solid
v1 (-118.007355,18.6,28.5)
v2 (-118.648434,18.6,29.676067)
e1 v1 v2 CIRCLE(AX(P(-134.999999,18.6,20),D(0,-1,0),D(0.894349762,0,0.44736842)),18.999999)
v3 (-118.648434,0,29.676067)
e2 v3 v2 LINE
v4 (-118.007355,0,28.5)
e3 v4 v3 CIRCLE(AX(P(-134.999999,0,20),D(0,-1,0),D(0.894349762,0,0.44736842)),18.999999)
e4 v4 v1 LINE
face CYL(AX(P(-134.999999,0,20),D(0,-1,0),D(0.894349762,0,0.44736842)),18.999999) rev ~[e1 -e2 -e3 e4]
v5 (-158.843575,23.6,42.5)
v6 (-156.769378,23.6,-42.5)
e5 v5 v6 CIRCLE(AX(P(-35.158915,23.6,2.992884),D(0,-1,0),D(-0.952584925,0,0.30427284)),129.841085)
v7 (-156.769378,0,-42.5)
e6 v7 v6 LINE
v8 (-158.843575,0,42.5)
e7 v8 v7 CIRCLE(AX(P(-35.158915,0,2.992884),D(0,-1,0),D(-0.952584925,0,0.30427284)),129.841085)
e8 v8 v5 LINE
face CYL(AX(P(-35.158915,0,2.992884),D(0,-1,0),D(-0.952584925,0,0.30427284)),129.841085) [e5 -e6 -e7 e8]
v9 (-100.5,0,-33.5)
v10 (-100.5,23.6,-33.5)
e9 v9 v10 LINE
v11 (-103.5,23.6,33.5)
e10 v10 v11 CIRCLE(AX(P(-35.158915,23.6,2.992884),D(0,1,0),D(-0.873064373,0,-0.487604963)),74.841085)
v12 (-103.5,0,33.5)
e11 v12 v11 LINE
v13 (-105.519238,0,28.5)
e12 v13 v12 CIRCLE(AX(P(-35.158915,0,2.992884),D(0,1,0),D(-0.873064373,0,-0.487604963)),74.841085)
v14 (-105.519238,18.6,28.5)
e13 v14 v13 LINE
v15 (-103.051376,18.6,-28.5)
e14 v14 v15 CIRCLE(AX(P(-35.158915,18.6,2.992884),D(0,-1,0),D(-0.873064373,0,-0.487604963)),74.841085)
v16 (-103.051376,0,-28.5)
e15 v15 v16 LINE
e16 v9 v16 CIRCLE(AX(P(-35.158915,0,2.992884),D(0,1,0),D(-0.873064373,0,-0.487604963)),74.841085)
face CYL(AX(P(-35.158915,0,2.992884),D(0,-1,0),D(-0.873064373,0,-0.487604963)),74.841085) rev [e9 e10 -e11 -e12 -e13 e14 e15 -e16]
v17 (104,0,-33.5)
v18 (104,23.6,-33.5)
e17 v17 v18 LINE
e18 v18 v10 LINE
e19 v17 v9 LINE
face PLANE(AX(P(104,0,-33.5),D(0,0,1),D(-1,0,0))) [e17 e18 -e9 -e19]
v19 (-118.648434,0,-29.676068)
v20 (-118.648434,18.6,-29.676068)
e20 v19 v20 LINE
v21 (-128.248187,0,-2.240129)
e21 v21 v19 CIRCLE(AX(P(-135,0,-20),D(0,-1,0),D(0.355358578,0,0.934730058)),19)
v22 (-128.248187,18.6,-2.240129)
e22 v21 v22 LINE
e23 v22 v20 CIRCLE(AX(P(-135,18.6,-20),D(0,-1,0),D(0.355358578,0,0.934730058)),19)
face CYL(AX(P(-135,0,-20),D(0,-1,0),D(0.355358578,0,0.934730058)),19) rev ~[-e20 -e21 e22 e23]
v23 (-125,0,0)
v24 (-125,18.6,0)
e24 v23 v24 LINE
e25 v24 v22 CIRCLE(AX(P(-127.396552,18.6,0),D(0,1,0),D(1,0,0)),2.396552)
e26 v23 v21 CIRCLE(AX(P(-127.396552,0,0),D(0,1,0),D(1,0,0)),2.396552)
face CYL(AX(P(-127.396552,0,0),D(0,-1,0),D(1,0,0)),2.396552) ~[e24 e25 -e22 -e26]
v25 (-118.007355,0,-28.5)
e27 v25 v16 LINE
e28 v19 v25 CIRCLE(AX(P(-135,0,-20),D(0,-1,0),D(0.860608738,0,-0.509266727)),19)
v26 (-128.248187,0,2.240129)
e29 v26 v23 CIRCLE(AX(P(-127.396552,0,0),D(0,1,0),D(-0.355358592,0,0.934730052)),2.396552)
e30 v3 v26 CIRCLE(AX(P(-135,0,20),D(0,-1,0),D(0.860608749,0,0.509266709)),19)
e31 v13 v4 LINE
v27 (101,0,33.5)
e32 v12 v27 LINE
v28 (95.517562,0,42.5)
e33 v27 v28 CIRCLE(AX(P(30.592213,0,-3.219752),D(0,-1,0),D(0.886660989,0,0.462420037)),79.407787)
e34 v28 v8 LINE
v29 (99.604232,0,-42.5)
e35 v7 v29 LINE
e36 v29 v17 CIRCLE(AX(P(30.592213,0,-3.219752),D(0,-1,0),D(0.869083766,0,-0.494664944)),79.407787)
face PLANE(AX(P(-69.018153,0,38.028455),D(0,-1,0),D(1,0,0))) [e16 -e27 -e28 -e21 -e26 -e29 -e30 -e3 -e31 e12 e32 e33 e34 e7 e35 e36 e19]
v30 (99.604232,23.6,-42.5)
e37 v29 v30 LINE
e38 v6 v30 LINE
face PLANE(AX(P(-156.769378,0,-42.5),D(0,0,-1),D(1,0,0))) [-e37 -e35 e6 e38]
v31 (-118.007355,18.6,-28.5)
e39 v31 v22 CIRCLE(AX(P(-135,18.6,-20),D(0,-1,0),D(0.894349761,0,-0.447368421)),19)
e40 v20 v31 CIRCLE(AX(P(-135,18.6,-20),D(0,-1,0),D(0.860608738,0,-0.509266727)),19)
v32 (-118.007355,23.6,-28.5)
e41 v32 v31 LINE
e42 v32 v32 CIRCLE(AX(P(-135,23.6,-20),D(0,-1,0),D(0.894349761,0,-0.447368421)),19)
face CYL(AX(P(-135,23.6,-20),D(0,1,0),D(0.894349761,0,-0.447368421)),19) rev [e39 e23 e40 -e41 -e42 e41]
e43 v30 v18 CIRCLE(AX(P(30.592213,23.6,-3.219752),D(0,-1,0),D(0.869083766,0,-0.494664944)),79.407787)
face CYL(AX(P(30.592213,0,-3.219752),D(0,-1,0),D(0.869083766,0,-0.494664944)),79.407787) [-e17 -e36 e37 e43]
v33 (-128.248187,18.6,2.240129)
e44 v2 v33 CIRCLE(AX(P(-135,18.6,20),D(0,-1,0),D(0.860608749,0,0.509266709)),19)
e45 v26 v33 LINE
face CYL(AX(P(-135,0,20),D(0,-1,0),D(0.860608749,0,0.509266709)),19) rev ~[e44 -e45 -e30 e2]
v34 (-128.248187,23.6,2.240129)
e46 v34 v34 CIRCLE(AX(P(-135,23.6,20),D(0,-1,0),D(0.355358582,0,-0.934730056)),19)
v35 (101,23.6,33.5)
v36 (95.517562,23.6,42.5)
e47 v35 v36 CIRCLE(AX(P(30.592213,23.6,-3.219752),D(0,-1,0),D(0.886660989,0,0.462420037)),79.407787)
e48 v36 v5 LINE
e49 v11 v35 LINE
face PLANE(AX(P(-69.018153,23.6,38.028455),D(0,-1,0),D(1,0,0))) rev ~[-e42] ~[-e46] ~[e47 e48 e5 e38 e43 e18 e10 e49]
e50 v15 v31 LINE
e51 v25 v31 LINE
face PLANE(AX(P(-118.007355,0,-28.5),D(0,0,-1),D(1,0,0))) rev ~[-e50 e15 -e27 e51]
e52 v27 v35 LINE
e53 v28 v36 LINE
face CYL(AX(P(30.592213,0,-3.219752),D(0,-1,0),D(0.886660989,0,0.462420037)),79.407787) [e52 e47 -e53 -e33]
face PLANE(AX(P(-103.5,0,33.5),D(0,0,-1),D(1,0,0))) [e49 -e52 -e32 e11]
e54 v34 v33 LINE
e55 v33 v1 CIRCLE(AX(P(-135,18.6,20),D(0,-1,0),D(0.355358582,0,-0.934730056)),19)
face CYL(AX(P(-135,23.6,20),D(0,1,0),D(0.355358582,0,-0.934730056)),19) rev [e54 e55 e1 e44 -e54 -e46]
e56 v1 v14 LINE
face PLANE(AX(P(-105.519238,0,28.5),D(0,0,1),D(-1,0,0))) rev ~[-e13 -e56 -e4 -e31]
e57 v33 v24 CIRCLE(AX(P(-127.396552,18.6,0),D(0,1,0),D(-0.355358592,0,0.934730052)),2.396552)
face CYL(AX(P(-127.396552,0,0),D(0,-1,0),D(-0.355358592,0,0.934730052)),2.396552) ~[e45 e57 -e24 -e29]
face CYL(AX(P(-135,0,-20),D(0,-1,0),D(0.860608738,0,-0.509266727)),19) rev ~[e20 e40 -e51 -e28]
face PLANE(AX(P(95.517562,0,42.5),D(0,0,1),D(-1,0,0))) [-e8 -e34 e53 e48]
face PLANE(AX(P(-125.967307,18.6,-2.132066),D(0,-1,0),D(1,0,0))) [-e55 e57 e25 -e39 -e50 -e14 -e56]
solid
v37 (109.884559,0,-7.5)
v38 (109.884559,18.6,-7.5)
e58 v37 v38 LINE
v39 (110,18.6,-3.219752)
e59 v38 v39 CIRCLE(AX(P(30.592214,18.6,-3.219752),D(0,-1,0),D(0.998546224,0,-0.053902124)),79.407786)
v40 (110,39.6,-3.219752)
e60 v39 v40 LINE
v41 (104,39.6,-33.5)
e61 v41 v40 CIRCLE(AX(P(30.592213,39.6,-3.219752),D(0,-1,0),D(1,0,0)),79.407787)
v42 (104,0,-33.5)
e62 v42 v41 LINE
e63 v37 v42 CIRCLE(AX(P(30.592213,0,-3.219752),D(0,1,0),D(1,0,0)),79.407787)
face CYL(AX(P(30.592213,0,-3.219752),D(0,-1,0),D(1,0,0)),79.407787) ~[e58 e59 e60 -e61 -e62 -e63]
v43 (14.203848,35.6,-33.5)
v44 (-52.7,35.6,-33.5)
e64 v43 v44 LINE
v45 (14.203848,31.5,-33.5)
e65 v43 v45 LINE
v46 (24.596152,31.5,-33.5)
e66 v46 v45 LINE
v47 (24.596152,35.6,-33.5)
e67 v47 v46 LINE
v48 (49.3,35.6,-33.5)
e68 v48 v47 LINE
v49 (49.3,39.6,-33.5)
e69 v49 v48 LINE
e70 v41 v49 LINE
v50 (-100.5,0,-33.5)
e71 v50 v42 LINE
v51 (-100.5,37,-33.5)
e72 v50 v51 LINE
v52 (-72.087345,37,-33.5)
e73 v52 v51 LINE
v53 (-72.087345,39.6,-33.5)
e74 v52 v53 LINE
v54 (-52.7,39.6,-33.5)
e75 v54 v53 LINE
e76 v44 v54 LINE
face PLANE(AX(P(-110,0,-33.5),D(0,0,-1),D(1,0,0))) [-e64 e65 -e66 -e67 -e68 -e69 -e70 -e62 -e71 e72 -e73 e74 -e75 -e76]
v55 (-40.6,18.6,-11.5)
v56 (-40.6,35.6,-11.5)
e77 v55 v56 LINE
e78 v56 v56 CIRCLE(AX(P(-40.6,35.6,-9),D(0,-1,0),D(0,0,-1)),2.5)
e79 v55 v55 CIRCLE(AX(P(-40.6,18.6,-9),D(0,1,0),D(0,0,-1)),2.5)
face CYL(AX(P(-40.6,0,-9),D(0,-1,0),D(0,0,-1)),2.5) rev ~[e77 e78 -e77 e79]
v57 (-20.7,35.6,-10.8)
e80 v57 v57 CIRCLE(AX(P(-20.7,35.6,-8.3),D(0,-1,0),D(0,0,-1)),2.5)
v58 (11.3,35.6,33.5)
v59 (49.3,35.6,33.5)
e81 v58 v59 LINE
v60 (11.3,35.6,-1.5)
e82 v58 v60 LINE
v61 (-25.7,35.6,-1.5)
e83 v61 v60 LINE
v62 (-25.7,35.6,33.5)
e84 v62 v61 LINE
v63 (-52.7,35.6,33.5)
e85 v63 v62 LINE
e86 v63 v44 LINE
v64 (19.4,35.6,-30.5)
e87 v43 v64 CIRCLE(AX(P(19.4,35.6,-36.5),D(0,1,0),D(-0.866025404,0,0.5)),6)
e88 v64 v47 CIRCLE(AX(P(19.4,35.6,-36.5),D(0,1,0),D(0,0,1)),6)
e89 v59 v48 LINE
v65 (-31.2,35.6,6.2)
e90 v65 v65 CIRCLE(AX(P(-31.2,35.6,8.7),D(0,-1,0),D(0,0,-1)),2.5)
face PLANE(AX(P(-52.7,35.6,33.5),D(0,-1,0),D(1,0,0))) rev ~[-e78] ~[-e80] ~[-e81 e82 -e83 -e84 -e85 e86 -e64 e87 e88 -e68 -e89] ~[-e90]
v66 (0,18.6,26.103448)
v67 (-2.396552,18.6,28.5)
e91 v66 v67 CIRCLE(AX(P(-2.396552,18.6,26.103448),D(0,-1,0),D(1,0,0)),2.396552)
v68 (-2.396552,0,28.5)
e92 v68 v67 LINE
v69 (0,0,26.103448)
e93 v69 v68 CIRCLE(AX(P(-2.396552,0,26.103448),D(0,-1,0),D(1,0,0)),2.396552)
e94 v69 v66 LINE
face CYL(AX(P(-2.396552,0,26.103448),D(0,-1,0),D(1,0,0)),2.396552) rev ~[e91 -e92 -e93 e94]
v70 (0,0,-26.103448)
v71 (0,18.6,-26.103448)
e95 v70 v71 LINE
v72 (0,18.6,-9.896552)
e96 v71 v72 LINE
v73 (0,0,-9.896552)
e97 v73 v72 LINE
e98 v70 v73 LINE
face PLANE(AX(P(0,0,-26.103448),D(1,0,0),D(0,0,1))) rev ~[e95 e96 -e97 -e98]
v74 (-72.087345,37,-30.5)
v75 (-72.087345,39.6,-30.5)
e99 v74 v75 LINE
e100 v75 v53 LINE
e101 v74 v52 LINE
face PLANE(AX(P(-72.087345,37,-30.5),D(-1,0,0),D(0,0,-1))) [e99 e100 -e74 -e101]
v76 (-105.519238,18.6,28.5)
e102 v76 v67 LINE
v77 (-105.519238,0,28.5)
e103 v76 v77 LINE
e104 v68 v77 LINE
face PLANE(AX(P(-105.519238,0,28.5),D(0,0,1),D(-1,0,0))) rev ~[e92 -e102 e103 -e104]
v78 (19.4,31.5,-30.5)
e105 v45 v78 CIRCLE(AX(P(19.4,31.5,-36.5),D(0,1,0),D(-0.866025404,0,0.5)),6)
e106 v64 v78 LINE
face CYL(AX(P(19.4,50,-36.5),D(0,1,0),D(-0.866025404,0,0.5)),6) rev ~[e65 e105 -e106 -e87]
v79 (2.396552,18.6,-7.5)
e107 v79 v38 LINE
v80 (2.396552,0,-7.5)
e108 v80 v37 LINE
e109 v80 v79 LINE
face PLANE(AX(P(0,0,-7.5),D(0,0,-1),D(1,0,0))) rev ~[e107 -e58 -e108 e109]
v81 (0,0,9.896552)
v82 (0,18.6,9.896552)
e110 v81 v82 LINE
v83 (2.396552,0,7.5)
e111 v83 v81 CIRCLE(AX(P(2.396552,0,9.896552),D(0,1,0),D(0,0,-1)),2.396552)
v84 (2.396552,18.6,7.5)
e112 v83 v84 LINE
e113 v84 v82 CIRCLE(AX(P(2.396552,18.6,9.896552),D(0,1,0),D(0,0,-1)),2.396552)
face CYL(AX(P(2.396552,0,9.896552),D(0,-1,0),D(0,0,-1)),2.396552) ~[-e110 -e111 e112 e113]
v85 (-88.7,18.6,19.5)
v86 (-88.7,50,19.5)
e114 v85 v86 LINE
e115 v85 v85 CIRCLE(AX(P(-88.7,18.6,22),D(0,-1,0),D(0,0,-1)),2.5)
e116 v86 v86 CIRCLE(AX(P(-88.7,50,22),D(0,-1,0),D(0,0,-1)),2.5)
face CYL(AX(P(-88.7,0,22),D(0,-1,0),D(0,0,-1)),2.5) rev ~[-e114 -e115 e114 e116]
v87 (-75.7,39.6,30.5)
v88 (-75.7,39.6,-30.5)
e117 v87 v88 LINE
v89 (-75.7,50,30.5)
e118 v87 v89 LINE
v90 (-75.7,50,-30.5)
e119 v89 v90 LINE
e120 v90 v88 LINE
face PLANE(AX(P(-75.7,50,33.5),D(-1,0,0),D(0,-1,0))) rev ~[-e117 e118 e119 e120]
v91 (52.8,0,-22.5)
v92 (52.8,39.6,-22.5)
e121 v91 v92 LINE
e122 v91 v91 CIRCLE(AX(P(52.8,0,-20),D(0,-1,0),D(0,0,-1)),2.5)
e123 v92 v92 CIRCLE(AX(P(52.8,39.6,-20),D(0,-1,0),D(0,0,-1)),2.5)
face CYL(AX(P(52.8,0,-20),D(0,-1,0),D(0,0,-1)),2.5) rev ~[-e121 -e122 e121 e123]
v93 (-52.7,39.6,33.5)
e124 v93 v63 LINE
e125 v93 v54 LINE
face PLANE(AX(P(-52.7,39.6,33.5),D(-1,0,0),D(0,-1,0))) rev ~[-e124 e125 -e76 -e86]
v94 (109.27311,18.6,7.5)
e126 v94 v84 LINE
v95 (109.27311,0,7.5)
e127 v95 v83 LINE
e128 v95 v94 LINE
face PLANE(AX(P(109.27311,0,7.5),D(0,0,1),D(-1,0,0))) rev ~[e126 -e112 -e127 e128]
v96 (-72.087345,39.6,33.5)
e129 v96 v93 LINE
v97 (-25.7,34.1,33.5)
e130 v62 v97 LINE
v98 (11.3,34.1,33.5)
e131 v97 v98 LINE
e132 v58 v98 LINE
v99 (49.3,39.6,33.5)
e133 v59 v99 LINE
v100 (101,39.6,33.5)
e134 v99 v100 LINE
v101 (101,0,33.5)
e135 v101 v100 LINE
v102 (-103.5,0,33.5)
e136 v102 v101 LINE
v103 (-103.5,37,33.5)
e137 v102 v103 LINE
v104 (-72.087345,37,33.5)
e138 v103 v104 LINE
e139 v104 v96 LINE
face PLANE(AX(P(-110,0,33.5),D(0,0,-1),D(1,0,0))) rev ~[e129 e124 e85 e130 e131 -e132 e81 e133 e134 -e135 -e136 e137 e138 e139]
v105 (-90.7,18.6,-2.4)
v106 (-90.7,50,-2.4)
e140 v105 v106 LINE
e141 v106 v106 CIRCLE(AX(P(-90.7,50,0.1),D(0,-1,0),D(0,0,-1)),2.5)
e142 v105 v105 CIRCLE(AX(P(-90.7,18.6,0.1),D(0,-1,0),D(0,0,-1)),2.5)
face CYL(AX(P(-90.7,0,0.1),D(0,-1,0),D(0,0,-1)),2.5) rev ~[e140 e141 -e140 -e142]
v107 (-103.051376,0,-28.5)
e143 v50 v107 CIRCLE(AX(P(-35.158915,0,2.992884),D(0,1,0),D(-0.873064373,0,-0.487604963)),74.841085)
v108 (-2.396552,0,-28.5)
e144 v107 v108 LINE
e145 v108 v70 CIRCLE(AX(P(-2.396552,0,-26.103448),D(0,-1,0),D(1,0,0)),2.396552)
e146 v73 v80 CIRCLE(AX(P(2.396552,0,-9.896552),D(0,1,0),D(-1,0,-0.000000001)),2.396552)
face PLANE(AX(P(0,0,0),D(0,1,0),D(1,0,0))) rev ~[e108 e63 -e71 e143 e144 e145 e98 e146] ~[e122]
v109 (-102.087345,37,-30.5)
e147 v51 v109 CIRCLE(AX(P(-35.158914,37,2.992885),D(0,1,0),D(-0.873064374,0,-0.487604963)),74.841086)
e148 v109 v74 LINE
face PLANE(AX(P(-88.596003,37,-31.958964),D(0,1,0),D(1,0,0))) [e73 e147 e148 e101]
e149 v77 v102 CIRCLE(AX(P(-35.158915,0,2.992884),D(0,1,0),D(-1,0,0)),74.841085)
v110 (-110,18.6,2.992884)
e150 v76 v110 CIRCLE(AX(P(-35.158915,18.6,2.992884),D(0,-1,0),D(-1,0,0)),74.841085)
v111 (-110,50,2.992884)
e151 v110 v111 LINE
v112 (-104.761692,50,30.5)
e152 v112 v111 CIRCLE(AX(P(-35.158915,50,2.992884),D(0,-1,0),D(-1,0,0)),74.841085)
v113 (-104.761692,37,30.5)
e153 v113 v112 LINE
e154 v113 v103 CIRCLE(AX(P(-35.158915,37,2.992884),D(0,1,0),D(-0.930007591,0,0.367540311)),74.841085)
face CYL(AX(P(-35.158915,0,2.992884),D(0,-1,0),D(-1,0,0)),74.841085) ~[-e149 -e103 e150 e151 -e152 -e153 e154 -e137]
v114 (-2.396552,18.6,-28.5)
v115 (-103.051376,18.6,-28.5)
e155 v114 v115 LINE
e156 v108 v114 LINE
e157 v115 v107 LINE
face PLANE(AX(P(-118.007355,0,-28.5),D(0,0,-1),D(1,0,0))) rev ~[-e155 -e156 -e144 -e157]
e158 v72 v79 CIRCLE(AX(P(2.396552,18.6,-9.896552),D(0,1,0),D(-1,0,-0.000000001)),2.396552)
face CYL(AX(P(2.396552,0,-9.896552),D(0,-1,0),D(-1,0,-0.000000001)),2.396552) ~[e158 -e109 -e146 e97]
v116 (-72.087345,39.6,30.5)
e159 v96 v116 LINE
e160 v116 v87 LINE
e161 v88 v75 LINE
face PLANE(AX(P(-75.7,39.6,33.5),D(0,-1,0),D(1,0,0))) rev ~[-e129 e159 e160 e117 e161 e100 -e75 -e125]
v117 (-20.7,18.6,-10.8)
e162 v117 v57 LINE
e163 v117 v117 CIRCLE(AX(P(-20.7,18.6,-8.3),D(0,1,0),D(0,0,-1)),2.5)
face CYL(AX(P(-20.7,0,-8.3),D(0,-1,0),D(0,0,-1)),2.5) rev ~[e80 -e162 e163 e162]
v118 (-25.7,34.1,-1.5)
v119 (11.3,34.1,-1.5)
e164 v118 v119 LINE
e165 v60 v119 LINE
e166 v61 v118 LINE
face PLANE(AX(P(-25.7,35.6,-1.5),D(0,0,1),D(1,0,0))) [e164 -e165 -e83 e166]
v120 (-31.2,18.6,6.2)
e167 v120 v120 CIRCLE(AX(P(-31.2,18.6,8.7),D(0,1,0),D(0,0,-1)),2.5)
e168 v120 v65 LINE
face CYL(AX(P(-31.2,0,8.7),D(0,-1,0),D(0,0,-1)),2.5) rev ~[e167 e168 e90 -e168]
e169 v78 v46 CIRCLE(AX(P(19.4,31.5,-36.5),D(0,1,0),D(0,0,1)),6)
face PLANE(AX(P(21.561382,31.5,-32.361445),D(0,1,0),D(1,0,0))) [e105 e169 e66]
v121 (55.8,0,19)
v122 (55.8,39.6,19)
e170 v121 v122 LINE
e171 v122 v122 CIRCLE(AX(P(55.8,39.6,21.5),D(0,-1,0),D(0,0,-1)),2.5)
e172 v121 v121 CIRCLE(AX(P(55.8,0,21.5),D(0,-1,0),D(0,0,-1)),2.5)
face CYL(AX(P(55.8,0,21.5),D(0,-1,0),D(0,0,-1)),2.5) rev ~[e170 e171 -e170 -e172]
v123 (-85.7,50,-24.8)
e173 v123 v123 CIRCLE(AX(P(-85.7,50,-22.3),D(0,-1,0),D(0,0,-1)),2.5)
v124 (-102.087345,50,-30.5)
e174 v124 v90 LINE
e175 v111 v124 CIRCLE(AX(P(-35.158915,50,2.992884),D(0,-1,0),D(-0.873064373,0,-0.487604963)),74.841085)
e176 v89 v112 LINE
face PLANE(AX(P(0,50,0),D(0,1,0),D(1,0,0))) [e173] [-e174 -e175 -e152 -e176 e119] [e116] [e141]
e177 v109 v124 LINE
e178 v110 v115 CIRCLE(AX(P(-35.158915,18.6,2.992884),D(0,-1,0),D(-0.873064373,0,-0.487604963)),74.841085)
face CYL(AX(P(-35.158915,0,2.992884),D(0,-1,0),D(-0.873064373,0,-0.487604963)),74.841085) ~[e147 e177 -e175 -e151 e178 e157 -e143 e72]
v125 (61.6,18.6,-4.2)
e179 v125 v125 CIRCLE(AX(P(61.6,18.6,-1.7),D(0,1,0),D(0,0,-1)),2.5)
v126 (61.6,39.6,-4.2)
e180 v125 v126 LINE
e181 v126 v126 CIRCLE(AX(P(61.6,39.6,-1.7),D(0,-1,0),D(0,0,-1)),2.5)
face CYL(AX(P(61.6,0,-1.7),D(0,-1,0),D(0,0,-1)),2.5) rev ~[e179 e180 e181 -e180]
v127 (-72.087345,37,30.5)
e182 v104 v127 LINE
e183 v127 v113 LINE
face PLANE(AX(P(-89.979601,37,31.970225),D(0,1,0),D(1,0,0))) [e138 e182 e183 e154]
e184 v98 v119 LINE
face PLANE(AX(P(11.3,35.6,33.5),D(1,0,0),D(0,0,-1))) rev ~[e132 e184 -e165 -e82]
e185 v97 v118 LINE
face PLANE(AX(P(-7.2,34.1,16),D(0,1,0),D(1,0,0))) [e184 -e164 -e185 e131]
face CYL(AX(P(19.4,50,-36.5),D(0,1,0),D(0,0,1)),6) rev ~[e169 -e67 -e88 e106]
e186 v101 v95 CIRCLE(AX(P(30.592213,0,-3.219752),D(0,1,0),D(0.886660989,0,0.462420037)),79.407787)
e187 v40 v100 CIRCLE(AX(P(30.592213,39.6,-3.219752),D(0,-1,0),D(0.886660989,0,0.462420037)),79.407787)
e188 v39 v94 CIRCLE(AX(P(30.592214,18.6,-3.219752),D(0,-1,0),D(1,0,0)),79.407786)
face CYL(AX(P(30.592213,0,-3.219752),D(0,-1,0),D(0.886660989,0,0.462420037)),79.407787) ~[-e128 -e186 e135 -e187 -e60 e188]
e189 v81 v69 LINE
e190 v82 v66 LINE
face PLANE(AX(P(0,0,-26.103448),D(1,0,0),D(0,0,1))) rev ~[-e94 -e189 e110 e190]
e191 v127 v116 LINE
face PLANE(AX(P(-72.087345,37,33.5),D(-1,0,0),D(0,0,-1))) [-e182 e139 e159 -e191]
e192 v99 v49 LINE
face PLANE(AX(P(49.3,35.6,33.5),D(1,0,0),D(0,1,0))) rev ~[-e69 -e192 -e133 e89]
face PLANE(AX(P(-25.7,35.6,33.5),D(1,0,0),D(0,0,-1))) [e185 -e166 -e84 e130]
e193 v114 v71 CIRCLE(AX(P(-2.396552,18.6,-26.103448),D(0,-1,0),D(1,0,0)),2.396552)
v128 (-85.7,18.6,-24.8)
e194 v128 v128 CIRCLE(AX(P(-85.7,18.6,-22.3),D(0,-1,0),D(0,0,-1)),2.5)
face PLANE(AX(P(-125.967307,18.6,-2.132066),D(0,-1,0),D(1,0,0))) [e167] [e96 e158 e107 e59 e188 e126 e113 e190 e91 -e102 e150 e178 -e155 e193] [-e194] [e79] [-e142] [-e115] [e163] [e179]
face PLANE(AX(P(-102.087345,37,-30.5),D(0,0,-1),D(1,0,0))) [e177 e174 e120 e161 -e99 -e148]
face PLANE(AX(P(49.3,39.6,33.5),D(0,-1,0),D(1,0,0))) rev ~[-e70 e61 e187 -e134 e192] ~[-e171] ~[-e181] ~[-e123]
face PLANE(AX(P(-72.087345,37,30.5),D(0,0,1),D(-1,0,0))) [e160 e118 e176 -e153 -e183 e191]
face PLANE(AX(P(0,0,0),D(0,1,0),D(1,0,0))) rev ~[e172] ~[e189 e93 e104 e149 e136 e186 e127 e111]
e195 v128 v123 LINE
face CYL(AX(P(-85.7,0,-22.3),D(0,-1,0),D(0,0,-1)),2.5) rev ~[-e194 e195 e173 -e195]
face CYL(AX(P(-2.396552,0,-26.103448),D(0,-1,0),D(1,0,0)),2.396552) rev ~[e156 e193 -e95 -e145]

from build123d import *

# Parameters (mm, degrees)
SKETCH1_W           = 220
SKETCH1_H           = 67
BOSS_EXTRUDE1_DEPTH = 50
CUT_EXTRUDE1_DEPTH  = 126.388396592
CUT_EXTRUDE2_DEPTH  = 139.162947276
CUT_EXTRUDE3_START  = -13
SKETCH4_W           = 3.612655346
SKETCH4_H           = 3
CUT_EXTRUDE3_DEPTH  = 13
SKETCH6_R           = 2.5
CUT_EXTRUDE4_DEPTH  = 126.388396592
SKETCH7_W           = 37
SKETCH7_H           = 35
CUT_EXTRUDE5_DEPTH  = 1.5
CUT_EXTRUDE6_DEPTH  = 18.5
BOSS_EXTRUDE2_DEPTH = 23.6
SKETCH9_R           = 2.5
SKETCH9_R_2         = 2.396551724
CUT_EXTRUDE7_DEPTH  = 18.6
CUT_EXTRUDE8_START  = -23.6
SKETCH12_R          = 19
CUT_EXTRUDE8_DEPTH  = 5


with BuildPart() as part:
    # Sketch1 → Boss-Extrude1 (new body)
    with BuildSketch(Plane(origin=(0, 0, 0), x_dir=(1, 0, 0), z_dir=(0, 1, 0))):
        Rectangle(SKETCH1_W, SKETCH1_H)
    extrude(amount=BOSS_EXTRUDE1_DEPTH)

    # Sketch2 → Cut-Extrude1 (cut, through all)
    with BuildSketch(Plane.XZ):
        with BuildLine():
            Line((110, -3.219751644), (110, 33.5))
            Line((110, 33.5), (101, 33.5))
            ThreePointArc((101, 33.5), (107.717186872, 15.683556008), (110, -3.219751644))
        make_face()
        with BuildLine():
            Line((110, -33.5), (110, -3.219751644))
            ThreePointArc((110, -3.219751644), (108.485558513, -18.65423771), (104, -33.5))
            Line((104, -33.5), (110, -33.5))
        make_face()
        with BuildLine():
            ThreePointArc((-100.5, -33.5), (-107.586070475, -15.861694701), (-110, 2.992884395))
            Line((-110, 2.992884395), (-110, -33.5))
            Line((-110, -33.5), (-100.5, -33.5))
        make_face()
        with BuildLine():
            ThreePointArc((-110, 2.992884395), (-108.356964685, 18.588830202), (-103.5, 33.5))
            Line((-103.5, 33.5), (-110, 33.5))
            Line((-110, 33.5), (-110, 2.992884395))
        make_face()
    extrude(amount=-CUT_EXTRUDE1_DEPTH, mode=Mode.SUBTRACT)

    # Sketch3 → Cut-Extrude2 (cut, through all)
    with BuildSketch(Plane(origin=(0, 0, 33.5), x_dir=(-1, 0, 0), z_dir=(0, 0, -1))):
        Polygon((75.7, 50), (75.7, 39.6), (52.7, 39.6), (52.7, 35.6), (-49.3, 35.6), (-49.3, 39.6), (-110, 39.6), (-110, 50), align=None)
    extrude(amount=CUT_EXTRUDE2_DEPTH, mode=Mode.SUBTRACT)

    # Sketch4 → Cut-Extrude3 (cut)
    with BuildSketch(Plane(origin=(0, 50, 0), x_dir=(1, 0, 0), z_dir=(0, 1, 0)).offset(CUT_EXTRUDE3_START)):
        with BuildLine():
            Line((-75.7, 30.5), (-75.7, 33.5))
            Line((-75.7, 33.5), (-100.5, 33.5))
            ThreePointArc((-100.5, 33.5), (-101.310680862, 32.008999469), (-102.087344654, 30.5))
            Line((-102.087344654, 30.5), (-75.7, 30.5))
        make_face()
        with Locations((-73.893672327, 32)):
            Rectangle(SKETCH4_W, SKETCH4_H)
        with BuildLine():
            Line((-75.7, -33.5), (-75.7, -30.5))
            Line((-75.7, -30.5), (-104.761692194, -30.5))
            ThreePointArc((-104.761692194, -30.5), (-104.147155152, -32.006859002), (-103.5, -33.5))
            Line((-103.5, -33.5), (-75.7, -33.5))
        make_face()
        with Locations((-73.893672327, -32)):
            Rectangle(SKETCH4_W, SKETCH4_H)
    extrude(amount=CUT_EXTRUDE3_DEPTH, mode=Mode.SUBTRACT)

    # Sketch6 → Cut-Extrude4 (cut, through all)
    with BuildSketch(Plane.XZ):
        with Locations(Location((-40.6, -9, 0), (0, 0, 270))):
            Circle(SKETCH6_R)
        with Locations(Location((-20.7, -8.3, 0), (0, 0, 270))):
            Circle(SKETCH6_R)
        with Locations(Location((-31.2, 8.7, 0), (0, 0, 270))):
            Circle(SKETCH6_R)
        with Locations(Location((-88.7, 22, 0), (0, 0, 270))):
            Circle(SKETCH6_R)
        with Locations(Location((-90.7, 0.1, 0), (0, 0, 270))):
            Circle(SKETCH6_R)
        with Locations(Location((-85.7, -22.3, 0), (0, 0, 270))):
            Circle(SKETCH6_R)
        with Locations(Location((52.8, -20, 0), (0, 0, 270))):
            Circle(SKETCH6_R)
        with Locations(Location((61.6, -1.7, 0), (0, 0, 270))):
            Circle(SKETCH6_R)
        with Locations(Location((55.8, 21.5, 0), (0, 0, 270))):
            Circle(SKETCH6_R)
    extrude(amount=-CUT_EXTRUDE4_DEPTH, mode=Mode.SUBTRACT)

    # Sketch7 → Cut-Extrude5 (cut)
    with BuildSketch(Plane(origin=(0, 35.6, 0), x_dir=(1, 0, 0), z_dir=(0, 1, 0))):
        with Locations((-7.2, -16)):
            Rectangle(SKETCH7_W, SKETCH7_H)
    extrude(amount=-CUT_EXTRUDE5_DEPTH, mode=Mode.SUBTRACT)

    # Sketch8 → Cut-Extrude6 (cut)
    with BuildSketch(Plane(origin=(0, 50, 0), x_dir=(1, 0, 0), z_dir=(0, 1, 0))):
        with BuildLine():
            Line((24.596152423, 33.5), (19.4, 33.5))
            Line((19.4, 33.5), (19.4, 30.5))
            ThreePointArc((19.4, 30.5), (22.4, 31.303847577), (24.596152423, 33.5))
        make_face()
        with BuildLine():
            Line((19.4, 33.5), (14.203847577, 33.5))
            ThreePointArc((14.203847577, 33.5), (16.4, 31.303847577), (19.4, 30.5))
            Line((19.4, 30.5), (19.4, 33.5))
        make_face()
    extrude(amount=-CUT_EXTRUDE6_DEPTH, mode=Mode.SUBTRACT)


with BuildPart() as body_2:
    # Sketch10 → Boss-Extrude2 (new body)
    with BuildSketch(Plane.XZ):
        with BuildLine():
            Line((-34.333135379, 42.5), (-98.722865603, 42.5))
            ThreePointArc((-98.722865603, 42.5), (-101.264774078, 38.081392432), (-103.5, 33.5))
            Line((-103.5, 33.5), (-39.81557342, 33.5))
            ThreePointArc((-39.81557342, 33.5), (-37.223820086, 38.091048485), (-34.333135379, 42.5))
        make_face()
        with BuildLine():
            Line((28.405035228, 42.5), (-34.333135379, 42.5))
            ThreePointArc((-34.333135379, 42.5), (-37.223820086, 38.091048485), (-39.81557342, 33.5))
            Line((-39.81557342, 33.5), (33.182169625, 33.5))
            ThreePointArc((33.182169625, 33.5), (30.946943703, 38.081392432), (28.405035228, 42.5))
        make_face()
        with BuildLine():
            Line((88.525744823, 42.5), (28.405035228, 42.5))
            ThreePointArc((28.405035228, 42.5), (30.946943703, 38.081392432), (33.182169625, 33.5))
            Line((33.182169625, 33.5), (91.047357251, 33.5))
            ThreePointArc((91.047357251, 33.5), (89.867560129, 38.022697059), (88.525744823, 42.5))
        make_face()
        with BuildLine():
            Line((95.517561959, 42.5), (88.525744823, 42.5))
            ThreePointArc((88.525744823, 42.5), (89.867560129, 38.022697059), (91.047357251, 33.5))
            Line((91.047357251, 33.5), (101, 33.5))
            ThreePointArc((101, 33.5), (98.408246666, 38.091048485), (95.517561959, 42.5))
        make_face()
        with BuildLine():
            Line((86.451548074, -42.5), (99.604231658, -42.5))
            ThreePointArc((99.604231658, -42.5), (101.944159442, -38.069376757), (104, -33.5))
            Line((104, -33.5), (89.448374703, -33.5))
            ThreePointArc((89.448374703, -33.5), (88.032178207, -38.027376617), (86.451548074, -42.5))
        make_face()
        with BuildLine():
            Line((89.448374703, -33.5), (30.182169625, -33.5))
            ThreePointArc((30.182169625, -33.5), (27.387289581, -38.106510308), (24.268228824, -42.5))
            Line((24.268228824, -42.5), (86.451548074, -42.5))
            ThreePointArc((86.451548074, -42.5), (88.032178207, -38.027376617), (89.448374703, -33.5))
        make_face()
        with BuildLine():
            Line((-42.81557342, -33.5), (-100.5, -33.5))
            ThreePointArc((-100.5, -33.5), (-97.705119956, -38.106510308), (-94.586059199, -42.5))
            Line((-94.586059199, -42.5), (-38.419805078, -42.5))
            ThreePointArc((-38.419805078, -42.5), (-40.759732861, -38.069376757), (-42.81557342, -33.5))
        make_face()
        with BuildLine():
            Line((30.182169625, -33.5), (-42.81557342, -33.5))
            ThreePointArc((-42.81557342, -33.5), (-40.759732861, -38.069376757), (-38.419805078, -42.5))
            Line((-38.419805078, -42.5), (24.268228824, -42.5))
            ThreePointArc((24.268228824, -42.5), (27.387289581, -38.106510308), (30.182169625, -33.5))
        make_face()
        with BuildLine():
            ThreePointArc((-103.5, 33.5), (-101.264774078, 38.081392432), (-98.722865603, 42.5))
            Line((-98.722865603, 42.5), (-158.843575198, 42.5))
            ThreePointArc((-158.843575198, 42.5), (-164.961358829, -0.174595682), (-156.769378449, -42.5))
            Line((-156.769378449, -42.5), (-94.586059199, -42.5))
            ThreePointArc((-94.586059199, -42.5), (-97.705119956, -38.106510308), (-100.5, -33.5))
            ThreePointArc((-100.5, -33.5), (-109.925088146, -0.354854693), (-103.5, 33.5))
        make_face()
    extrude(amount=-BOSS_EXTRUDE2_DEPTH)


with BuildPart() as cut_extrude7_tool:
    # Sketch9 → Cut-Extrude7 (new body)
    # profile 1 of 17: a face of its own
    with BuildSketch(Plane.XZ):
        with BuildLine():
            ThreePointArc((-128.248186972, 2.240128918), (-126.585767055, 2.964722369), (-125, 3.844505579))
            Line((-125, 3.844505579), (-125, 28.5))
            Line((-125, 28.5), (-118.007354532, 28.5))
            ThreePointArc((-118.007354532, 28.5), (-118.317527246, 29.093684777), (-118.648433766, 29.67606747))
            ThreePointArc((-118.648433766, 29.67606747), (-152.933884531, 26.275012798), (-128.248186972, 2.240128918))
        make_face()
    # profile 2 of 17: a face of its own
    with BuildSketch(Plane.XZ):
        with BuildLine():
            Line((-125, 28.5), (-125, 3.844505579))
            ThreePointArc((-125, 3.844505579), (-118.401807327, 10.753378996), (-116, 20))
            ThreePointArc((-116, 20), (-116.508647103, 24.366906005), (-118.007354532, 28.5))
            Line((-118.007354532, 28.5), (-125, 28.5))
        make_face()
    # profile 3 of 17: a face of its own
    with BuildSketch(Plane.XZ):
        with BuildLine():
            Line((-125, -3.844505579), (-125, -28.5))
            Line((-125, -28.5), (-118.007354532, -28.5))
            ThreePointArc((-118.007354532, -28.5), (-116.508647103, -24.366906005), (-116, -20))
            ThreePointArc((-116, -20), (-118.401807327, -10.753378996), (-125, -3.844505579))
        make_face()
    # profile 4 of 17: a face of its own
    with BuildSketch(Plane.XZ):
        with BuildLine():
            Line((-118.007354532, -28.5), (-125, -28.5))
            Line((-125, -28.5), (-125, -3.844505579))
            ThreePointArc((-125, -3.844505579), (-126.58576708, -2.964722357), (-128.248187023, -2.240128899))
            ThreePointArc((-128.248187023, -2.240128899), (-152.933884587, -26.275012638), (-118.648433966, -29.676067808))
            ThreePointArc((-118.648433966, -29.676067808), (-118.31752734, -29.093684949), (-118.007354532, -28.5))
        make_face()
    # profile 5 of 17: a face of its own
    with BuildSketch(Plane.XZ):
        with BuildLine():
            ThreePointArc((-116, -20), (-116.508647103, -24.366906005), (-118.007354532, -28.5))
            Line((-118.007354532, -28.5), (-116.585940529, -28.5))
            Line((-116.585940529, -28.5), (-103.051375803, -28.5))
            ThreePointArc((-103.051375803, -28.5), (-109.929952581, -0.24438961), (-105.519238022, 28.5))
            Line((-105.519238022, 28.5), (-116.585940529, 28.5))
            Line((-116.585940529, 28.5), (-118.007354532, 28.5))
            ThreePointArc((-118.007354532, 28.5), (-116.508647103, 24.366906005), (-116, 20))
            ThreePointArc((-116, 20), (-118.401807327, 10.753378996), (-125, 3.844505579))
            Line((-125, 3.844505579), (-125, 0))
            Line((-125, 0), (-125, -3.844505579))
            ThreePointArc((-125, -3.844505579), (-118.401807327, -10.753378996), (-116, -20))
        make_face()
    # profile 6 of 17: a face of its own
    with BuildSketch(Plane.XZ):
        with BuildLine():
            ThreePointArc((-105.519238022, 28.5), (-109.929952581, -0.24438961), (-103.051375803, -28.5))
            Line((-103.051375803, -28.5), (-2.396551708, -28.5))
            ThreePointArc((-2.396551708, -28.5), (-4.091169705, -24.408830306), (0, -26.103448276))
            Line((0, -26.103448276), (0, -9.896551726))
            Line((0, -9.896551726), (0, -7.5))
            Line((0, -7.5), (0, 7.5))
            Line((0, 7.5), (0, 9.896551721))
            Line((0, 9.896551721), (0, 26.103448276))
            ThreePointArc((0, 26.103448276), (-4.0911697, 24.4088303), (-2.396551724, 28.5))
            Line((-2.396551724, 28.5), (-105.519238022, 28.5))
        make_face()
        with Locations(Location((-85.7, -22.3, 0), (0, 0, 270))):
            Circle(SKETCH9_R, mode=Mode.SUBTRACT)
        with Locations((-40.6, -9)):
            Circle(SKETCH9_R, mode=Mode.SUBTRACT)
        with Locations((-20.7, -8.3)):
            Circle(SKETCH9_R, mode=Mode.SUBTRACT)
        with Locations(Location((-90.7, 0.1, 0), (0, 0, 270))):
            Circle(SKETCH9_R, mode=Mode.SUBTRACT)
        with Locations((-31.2, 8.7)):
            Circle(SKETCH9_R, mode=Mode.SUBTRACT)
        with Locations(Location((-88.7, 22, 0), (0, 0, 270))):
            Circle(SKETCH9_R, mode=Mode.SUBTRACT)
    # profile 7 of 17: a face of its own
    with BuildSketch(Plane.XZ):
        with BuildLine():
            Line((0, 7.5), (0, -7.5))
            Line((0, -7.5), (2.396551724, -7.5))
            Line((2.396551724, -7.5), (109.884558849, -7.5))
            ThreePointArc((109.884558849, -7.5), (109.971134466, -5.360654062), (110, -3.219751644))
            ThreePointArc((110, -3.219751644), (109.818069102, 2.15243237), (109.273110049, 7.5))
            Line((109.273110049, 7.5), (2.396551724, 7.5))
            Line((2.396551724, 7.5), (0, 7.5))
        make_face()
        with Locations((61.6, -1.7)):
            Circle(SKETCH9_R, mode=Mode.SUBTRACT)
    # profile 8 of 17: a face of its own
    with BuildSketch(Plane.XZ):
        with Locations((-2.396551724, -26.103448276)):
            Circle(SKETCH9_R_2)
    # profile 9 of 17: a face of its own
    with BuildSketch(Plane.XZ):
        with Locations((-2.396551724, 26.103448276)):
            Circle(SKETCH9_R_2)
    # profile 10 of 17: a face of its own
    with BuildSketch(Plane.XZ):
        with BuildLine():
            ThreePointArc((2.396551724, 7.5), (0.70193375, 8.201933747), (0, 9.896551721))
            Line((0, 9.896551721), (0, 7.5))
            Line((0, 7.5), (2.396551724, 7.5))
        make_face()
    # profile 11 of 17: a face of its own
    with BuildSketch(Plane.XZ):
        with BuildLine():
            Line((0, -7.5), (0, -9.896551726))
            ThreePointArc((0, -9.896551726), (0.701933748, -8.201933749), (2.396551724, -7.5))
            Line((2.396551724, -7.5), (0, -7.5))
        make_face()
    # profile 12 of 17: a face of its own
    with BuildSketch(Plane.XZ):
        with BuildLine():
            Line((-125, -3.844505579), (-125, -28.5))
            Line((-125, -28.5), (-118.007354532, -28.5))
            ThreePointArc((-118.007354532, -28.5), (-116.508647103, -24.366906005), (-116, -20))
            ThreePointArc((-116, -20), (-118.401807327, -10.753378996), (-125, -3.844505579))
        make_face()
    # profile 13 of 17: a face of its own
    with BuildSketch(Plane.XZ):
        with BuildLine():
            Line((-118.007354532, -28.5), (-125, -28.5))
            Line((-125, -28.5), (-125, -3.844505579))
            ThreePointArc((-125, -3.844505579), (-126.58576708, -2.964722357), (-128.248187023, -2.240128899))
            ThreePointArc((-128.248187023, -2.240128899), (-152.933884587, -26.275012638), (-118.648433966, -29.676067808))
            ThreePointArc((-118.648433966, -29.676067808), (-118.31752734, -29.093684949), (-118.007354532, -28.5))
        make_face()
    # profile 14 of 17: a face of its own
    with BuildSketch(Plane.XZ):
        with BuildLine():
            ThreePointArc((-128.248186972, 2.240128918), (-126.585767055, 2.964722369), (-125, 3.844505579))
            Line((-125, 3.844505579), (-125, 28.5))
            Line((-125, 28.5), (-118.007354532, 28.5))
            ThreePointArc((-118.007354532, 28.5), (-118.317527246, 29.093684777), (-118.648433766, 29.67606747))
            ThreePointArc((-118.648433766, 29.67606747), (-152.933884531, 26.275012798), (-128.248186972, 2.240128918))
        make_face()
    # profile 15 of 17: a face of its own
    with BuildSketch(Plane.XZ):
        with BuildLine():
            Line((-125, 28.5), (-125, 3.844505579))
            ThreePointArc((-125, 3.844505579), (-118.401807327, 10.753378996), (-116, 20))
            ThreePointArc((-116, 20), (-116.508647103, 24.366906005), (-118.007354532, 28.5))
            Line((-118.007354532, 28.5), (-125, 28.5))
        make_face()
    # profile 16 of 17: a face of its own
    with BuildSketch(Plane.XZ):
        with BuildLine():
            ThreePointArc((-128.248186972, 2.240128918), (-126.035950342, 1.972872029), (-125, 0))
            Line((-125, 0), (-125, 3.844505579))
            ThreePointArc((-125, 3.844505579), (-126.585767055, 2.964722369), (-128.248186972, 2.240128918))
        make_face()
    # profile 17 of 17: a face of its own
    with BuildSketch(Plane.XZ):
        with BuildLine():
            ThreePointArc((-128.248187023, -2.240128899), (-126.58576708, -2.964722357), (-125, -3.844505579))
            Line((-125, -3.844505579), (-125, 0))
            ThreePointArc((-125, 0), (-126.035950364, -1.972872045), (-128.248187023, -2.240128899))
        make_face()
    extrude(amount=-CUT_EXTRUDE7_DEPTH)


with BuildPart() as part_1:
    add(part.part)

    # Cut-Extrude7: cut by cut_extrude7_tool
    add(cut_extrude7_tool.part, mode=Mode.SUBTRACT)


with BuildPart() as body_2_1:
    add(body_2.part)

    # Cut-Extrude7: cut by cut_extrude7_tool
    add(cut_extrude7_tool.part, mode=Mode.SUBTRACT)

    # Sketch12 → Cut-Extrude8 (cut)
    with BuildSketch(Plane.XZ.offset(CUT_EXTRUDE8_START)):
        with Locations(Location((-135, -20, 0), (0, 0, 333.425030481))):
            Circle(SKETCH12_R)
        with Locations(Location((-135, 20, 0), (0, 0, 290.815422625))):
            Circle(SKETCH12_R)
    extrude(amount=CUT_EXTRUDE8_DEPTH, mode=Mode.SUBTRACT)


solid = Compound([part_1.part, body_2_1.part])
